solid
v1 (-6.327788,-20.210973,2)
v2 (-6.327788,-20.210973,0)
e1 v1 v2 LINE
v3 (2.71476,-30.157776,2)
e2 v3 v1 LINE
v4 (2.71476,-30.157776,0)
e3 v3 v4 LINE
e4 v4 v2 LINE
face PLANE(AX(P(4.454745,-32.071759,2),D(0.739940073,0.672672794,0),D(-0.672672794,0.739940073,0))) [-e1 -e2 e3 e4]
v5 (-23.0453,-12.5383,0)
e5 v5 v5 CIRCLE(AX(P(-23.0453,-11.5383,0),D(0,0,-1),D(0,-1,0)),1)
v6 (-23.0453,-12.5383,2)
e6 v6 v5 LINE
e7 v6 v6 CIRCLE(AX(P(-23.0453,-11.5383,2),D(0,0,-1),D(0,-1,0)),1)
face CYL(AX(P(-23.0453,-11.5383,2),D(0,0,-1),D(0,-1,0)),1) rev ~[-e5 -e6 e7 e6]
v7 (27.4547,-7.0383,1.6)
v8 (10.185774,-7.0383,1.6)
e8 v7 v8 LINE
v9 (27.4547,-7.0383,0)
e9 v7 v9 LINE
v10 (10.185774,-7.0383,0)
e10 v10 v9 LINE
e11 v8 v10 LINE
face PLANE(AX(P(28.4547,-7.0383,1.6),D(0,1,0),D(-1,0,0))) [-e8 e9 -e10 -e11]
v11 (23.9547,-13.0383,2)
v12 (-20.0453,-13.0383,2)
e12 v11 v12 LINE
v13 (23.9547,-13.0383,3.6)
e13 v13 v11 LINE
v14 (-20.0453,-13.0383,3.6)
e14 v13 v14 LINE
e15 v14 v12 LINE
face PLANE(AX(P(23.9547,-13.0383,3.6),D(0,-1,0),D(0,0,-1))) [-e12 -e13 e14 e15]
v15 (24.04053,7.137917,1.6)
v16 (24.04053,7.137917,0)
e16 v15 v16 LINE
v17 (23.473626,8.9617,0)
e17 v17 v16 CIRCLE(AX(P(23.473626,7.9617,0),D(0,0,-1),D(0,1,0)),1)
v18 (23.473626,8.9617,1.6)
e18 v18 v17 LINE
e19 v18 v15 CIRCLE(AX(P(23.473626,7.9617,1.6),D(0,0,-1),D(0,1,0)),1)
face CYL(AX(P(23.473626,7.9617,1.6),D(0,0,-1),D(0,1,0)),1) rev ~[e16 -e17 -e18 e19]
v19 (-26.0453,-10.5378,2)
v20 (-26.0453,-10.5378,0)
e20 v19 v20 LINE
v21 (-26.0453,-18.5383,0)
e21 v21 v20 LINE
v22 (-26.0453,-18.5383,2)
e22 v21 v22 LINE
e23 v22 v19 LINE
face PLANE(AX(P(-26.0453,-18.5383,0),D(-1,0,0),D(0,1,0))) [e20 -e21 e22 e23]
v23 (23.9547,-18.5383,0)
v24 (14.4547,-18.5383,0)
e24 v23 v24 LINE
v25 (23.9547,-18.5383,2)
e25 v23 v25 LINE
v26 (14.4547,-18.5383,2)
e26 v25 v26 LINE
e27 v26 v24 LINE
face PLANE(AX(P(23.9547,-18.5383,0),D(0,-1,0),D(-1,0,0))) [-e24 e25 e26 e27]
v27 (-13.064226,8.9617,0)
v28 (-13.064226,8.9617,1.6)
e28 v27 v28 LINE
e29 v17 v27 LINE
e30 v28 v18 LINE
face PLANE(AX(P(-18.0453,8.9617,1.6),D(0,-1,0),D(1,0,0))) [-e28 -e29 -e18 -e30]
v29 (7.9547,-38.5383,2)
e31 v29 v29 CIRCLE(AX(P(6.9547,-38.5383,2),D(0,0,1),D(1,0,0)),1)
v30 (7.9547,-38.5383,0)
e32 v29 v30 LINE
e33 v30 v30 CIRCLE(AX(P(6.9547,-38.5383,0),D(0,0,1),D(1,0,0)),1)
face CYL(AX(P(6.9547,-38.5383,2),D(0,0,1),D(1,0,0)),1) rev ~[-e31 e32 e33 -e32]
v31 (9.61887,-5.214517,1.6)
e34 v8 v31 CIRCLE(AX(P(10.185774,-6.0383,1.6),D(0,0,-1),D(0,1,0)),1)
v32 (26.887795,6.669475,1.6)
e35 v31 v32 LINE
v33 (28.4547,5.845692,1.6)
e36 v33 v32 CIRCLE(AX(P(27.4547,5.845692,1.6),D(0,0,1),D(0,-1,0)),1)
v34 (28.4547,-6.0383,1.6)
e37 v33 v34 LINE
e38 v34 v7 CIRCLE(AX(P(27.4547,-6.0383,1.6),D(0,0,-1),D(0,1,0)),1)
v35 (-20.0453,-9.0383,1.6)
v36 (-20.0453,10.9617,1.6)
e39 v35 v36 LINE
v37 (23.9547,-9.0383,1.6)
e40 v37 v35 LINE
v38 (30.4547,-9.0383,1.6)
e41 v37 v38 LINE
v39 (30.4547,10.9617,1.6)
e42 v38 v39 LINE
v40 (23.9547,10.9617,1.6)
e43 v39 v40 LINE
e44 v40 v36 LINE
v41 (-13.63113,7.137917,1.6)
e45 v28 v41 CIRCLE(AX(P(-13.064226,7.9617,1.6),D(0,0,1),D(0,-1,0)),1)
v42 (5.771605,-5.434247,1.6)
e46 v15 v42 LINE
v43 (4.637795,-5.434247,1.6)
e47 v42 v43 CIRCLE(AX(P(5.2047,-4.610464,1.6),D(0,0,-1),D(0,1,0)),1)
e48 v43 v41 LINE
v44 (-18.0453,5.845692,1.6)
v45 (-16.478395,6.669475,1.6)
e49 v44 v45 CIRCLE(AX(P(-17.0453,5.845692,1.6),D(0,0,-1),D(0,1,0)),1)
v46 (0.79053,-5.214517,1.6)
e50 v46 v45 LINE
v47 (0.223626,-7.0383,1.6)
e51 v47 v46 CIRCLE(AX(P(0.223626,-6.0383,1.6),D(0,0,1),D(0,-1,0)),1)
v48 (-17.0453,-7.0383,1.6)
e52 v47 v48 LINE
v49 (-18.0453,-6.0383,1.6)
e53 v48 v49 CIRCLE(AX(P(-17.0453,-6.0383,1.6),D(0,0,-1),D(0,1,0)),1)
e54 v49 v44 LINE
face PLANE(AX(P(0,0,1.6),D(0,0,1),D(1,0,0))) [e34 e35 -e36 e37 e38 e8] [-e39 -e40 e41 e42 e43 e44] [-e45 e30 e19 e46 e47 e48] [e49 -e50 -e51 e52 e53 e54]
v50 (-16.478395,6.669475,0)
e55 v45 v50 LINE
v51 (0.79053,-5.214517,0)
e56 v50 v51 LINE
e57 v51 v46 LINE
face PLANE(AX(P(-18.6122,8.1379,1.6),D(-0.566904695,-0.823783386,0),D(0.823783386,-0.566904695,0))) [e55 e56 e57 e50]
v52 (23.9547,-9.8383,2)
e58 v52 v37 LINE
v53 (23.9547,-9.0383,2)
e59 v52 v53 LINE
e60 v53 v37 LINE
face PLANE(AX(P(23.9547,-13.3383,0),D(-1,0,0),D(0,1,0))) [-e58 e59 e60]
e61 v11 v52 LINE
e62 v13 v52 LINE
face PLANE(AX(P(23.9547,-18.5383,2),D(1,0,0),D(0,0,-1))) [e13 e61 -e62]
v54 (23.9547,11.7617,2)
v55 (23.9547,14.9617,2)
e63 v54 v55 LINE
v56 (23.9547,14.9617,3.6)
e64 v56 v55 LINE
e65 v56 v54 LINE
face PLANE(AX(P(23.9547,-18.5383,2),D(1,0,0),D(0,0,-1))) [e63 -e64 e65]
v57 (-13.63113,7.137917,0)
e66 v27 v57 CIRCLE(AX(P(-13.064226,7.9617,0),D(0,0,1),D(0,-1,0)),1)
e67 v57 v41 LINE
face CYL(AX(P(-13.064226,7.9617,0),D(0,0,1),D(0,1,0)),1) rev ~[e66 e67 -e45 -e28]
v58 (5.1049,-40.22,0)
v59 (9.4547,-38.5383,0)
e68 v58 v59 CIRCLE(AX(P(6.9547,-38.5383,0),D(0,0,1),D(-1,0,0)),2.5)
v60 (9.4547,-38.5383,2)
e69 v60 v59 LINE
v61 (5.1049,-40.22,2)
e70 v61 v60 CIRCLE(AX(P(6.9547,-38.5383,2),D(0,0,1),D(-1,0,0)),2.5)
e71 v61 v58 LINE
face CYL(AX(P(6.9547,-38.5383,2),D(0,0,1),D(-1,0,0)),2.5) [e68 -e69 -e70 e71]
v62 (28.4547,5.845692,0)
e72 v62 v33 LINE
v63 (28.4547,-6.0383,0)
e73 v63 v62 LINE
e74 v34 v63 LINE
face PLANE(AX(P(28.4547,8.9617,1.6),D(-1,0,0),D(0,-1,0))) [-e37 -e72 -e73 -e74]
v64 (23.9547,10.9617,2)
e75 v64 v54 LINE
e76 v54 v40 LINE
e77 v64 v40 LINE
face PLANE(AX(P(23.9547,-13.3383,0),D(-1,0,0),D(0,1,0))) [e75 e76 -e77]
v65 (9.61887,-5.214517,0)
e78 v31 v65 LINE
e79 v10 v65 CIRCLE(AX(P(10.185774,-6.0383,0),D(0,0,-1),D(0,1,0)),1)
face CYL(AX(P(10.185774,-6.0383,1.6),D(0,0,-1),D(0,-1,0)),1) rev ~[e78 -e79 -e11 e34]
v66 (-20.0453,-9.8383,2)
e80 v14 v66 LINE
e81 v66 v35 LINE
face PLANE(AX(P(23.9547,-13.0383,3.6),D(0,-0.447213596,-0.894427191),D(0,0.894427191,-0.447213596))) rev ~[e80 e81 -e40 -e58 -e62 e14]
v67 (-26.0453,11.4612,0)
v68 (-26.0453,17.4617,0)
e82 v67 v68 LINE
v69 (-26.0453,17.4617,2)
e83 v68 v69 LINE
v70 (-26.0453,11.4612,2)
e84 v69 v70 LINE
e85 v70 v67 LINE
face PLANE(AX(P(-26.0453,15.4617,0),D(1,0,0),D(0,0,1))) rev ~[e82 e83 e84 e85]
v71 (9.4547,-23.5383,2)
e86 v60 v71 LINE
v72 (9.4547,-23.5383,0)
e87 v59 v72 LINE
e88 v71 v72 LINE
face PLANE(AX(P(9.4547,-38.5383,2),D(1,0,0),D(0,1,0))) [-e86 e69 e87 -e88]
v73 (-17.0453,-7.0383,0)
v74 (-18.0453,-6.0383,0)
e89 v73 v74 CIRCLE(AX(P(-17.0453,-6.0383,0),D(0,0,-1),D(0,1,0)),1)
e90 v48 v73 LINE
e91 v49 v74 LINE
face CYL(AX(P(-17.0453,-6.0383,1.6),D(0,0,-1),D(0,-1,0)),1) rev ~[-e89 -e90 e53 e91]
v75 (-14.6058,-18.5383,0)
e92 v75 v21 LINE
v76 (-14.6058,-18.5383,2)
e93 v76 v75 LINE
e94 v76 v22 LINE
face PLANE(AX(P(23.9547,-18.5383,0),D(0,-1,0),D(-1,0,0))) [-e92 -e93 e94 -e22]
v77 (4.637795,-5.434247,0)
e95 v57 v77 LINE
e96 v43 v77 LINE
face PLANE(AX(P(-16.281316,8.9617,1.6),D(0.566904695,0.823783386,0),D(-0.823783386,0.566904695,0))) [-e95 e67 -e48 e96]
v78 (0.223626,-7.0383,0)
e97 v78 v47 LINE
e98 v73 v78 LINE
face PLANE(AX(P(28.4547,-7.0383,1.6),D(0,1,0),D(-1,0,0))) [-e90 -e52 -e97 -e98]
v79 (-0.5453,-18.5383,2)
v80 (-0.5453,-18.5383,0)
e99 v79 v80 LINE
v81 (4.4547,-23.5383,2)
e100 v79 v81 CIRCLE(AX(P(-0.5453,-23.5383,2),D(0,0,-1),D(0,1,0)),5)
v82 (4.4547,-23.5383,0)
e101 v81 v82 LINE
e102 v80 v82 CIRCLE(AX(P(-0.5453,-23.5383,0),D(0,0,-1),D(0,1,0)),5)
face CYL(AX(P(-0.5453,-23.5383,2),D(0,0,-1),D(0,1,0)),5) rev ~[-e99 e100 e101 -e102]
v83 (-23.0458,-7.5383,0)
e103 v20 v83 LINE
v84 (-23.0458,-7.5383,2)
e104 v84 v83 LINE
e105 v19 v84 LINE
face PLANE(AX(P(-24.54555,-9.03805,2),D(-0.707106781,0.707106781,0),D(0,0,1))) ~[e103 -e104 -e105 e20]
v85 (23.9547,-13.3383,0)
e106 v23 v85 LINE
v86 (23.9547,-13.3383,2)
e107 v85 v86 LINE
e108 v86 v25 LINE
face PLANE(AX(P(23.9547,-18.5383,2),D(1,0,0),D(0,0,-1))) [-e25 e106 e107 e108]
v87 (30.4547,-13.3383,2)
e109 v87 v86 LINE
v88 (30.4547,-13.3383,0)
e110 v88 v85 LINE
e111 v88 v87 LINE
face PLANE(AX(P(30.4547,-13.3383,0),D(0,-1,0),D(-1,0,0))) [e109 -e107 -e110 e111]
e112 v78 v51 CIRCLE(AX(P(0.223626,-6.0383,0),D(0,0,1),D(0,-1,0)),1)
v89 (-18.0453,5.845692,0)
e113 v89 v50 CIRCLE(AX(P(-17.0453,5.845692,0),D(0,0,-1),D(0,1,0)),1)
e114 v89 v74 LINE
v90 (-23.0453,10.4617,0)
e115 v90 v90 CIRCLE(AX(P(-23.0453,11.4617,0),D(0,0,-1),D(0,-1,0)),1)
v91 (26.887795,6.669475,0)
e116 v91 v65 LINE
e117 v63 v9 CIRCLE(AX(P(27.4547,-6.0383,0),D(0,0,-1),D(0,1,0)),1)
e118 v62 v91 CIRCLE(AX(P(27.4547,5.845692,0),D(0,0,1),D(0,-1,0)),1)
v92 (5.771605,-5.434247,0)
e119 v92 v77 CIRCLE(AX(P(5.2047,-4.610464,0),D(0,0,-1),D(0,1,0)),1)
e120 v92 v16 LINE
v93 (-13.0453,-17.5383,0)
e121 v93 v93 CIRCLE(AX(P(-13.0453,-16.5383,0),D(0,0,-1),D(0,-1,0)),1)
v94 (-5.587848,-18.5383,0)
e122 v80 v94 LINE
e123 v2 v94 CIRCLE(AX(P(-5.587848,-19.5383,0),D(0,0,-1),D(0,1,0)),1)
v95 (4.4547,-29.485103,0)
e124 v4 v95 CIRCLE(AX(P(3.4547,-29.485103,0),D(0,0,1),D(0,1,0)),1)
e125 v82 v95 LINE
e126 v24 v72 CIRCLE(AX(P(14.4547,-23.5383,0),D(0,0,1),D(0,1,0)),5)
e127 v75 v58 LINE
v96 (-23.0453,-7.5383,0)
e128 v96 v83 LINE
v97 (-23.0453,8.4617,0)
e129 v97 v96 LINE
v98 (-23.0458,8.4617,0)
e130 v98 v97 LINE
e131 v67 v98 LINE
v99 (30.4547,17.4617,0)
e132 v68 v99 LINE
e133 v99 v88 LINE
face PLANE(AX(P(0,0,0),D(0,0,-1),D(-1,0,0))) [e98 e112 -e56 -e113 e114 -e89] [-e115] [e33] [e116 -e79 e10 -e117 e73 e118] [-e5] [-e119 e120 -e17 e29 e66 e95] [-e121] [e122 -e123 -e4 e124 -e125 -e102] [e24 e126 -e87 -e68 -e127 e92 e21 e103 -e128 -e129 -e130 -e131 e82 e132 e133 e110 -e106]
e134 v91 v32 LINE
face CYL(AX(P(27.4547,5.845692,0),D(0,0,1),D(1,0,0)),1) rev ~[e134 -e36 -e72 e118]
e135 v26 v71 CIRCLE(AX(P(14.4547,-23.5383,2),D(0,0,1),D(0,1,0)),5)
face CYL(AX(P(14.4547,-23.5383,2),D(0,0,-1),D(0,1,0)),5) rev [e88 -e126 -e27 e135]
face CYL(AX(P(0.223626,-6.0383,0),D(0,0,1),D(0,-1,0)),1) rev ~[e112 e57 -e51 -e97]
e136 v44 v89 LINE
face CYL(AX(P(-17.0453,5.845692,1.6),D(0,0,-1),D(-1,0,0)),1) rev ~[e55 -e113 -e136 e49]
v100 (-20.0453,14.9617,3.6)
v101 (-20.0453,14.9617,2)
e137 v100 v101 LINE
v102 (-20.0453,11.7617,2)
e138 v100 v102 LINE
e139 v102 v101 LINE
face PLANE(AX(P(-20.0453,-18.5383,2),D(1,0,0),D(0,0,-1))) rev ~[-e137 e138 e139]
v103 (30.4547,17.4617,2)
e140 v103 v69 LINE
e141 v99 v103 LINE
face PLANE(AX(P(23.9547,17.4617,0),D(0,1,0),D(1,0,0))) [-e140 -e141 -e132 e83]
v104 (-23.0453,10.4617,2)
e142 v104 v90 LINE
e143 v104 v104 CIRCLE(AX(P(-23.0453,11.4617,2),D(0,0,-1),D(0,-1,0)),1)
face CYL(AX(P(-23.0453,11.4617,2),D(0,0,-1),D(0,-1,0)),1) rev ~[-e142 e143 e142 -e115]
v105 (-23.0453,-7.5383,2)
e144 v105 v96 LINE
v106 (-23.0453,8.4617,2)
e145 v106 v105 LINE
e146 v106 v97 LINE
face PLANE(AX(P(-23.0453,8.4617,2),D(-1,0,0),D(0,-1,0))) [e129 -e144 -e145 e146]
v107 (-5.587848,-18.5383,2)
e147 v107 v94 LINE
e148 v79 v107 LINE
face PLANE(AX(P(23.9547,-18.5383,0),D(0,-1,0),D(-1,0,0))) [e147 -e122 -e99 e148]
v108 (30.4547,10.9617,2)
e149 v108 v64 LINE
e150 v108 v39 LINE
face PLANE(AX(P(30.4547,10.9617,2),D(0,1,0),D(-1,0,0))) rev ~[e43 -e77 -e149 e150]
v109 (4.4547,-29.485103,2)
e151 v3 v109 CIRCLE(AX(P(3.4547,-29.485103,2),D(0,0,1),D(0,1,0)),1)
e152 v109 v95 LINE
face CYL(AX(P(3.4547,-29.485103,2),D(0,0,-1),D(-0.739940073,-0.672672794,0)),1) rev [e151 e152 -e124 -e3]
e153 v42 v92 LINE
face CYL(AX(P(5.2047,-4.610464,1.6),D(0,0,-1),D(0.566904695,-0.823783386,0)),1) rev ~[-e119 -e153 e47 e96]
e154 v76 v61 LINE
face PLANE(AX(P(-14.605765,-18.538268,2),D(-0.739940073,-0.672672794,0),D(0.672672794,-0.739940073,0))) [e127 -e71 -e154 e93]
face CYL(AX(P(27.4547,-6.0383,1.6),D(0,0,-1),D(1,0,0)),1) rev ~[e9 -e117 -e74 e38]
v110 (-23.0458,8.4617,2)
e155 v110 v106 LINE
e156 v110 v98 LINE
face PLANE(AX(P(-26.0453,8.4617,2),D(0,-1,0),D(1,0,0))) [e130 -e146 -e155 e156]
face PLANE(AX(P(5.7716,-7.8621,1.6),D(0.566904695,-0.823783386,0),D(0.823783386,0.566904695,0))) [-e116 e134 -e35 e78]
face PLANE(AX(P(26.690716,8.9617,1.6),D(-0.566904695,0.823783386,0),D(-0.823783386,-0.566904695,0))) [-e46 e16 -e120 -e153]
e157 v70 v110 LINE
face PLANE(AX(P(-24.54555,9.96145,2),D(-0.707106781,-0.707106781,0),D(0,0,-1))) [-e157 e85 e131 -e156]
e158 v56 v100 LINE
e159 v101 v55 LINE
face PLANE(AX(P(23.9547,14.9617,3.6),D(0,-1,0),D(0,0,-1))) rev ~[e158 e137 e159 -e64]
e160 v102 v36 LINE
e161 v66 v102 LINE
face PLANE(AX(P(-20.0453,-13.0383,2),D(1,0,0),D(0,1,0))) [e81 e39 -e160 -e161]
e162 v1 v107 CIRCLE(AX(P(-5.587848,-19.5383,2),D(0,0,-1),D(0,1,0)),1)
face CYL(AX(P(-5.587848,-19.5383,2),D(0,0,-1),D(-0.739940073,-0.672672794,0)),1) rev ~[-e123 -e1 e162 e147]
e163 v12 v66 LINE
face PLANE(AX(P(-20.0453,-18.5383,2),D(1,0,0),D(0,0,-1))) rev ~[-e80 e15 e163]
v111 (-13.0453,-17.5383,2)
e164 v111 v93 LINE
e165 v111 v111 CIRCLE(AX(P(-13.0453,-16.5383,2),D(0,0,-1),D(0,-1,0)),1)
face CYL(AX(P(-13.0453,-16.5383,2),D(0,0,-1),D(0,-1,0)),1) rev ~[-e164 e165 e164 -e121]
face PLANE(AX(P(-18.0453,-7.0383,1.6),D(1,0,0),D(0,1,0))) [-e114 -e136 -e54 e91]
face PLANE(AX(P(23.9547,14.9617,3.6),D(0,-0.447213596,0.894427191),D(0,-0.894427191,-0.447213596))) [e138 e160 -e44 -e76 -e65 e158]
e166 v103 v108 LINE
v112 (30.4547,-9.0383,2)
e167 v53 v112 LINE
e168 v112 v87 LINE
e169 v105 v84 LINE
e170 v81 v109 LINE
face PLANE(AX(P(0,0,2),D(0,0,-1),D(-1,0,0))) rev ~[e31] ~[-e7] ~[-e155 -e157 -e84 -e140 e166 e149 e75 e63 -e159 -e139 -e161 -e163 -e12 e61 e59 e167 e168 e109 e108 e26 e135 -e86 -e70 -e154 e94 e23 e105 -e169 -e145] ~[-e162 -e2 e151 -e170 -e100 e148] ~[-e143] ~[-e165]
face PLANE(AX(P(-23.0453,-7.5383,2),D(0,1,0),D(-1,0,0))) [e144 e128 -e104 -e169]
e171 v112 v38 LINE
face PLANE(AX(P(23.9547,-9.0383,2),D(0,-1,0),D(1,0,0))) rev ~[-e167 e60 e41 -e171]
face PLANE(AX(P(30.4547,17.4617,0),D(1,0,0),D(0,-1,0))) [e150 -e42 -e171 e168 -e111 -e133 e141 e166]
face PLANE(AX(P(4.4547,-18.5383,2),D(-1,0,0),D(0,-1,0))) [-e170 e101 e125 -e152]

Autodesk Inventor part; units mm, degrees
ref_plane "YZ Plane" through (0, 0, 0) normal (1, 0, 0) x (0, 1, 0)
ref_plane "XZ Plane" through (0, 0, 0) normal (0, 1, 0) x (-1, 0, 0)
ref_plane "XY Plane" through (0, 0, 0) normal (0, 0, 1) x (1, 0, 0)
sketch "Sketch1" plane through (0, 0, 0) normal (0, 0, 1) x (1, 0, 0)
  line L0 (-26.0453, 15.4617) -> (23.9547, 15.4617)
  line L1 (23.9547, 15.4617) -> (23.9547, -18.5383)
  line L2 (23.9547, -18.5383) -> (-26.0453, -18.5383)
  line L3 (-26.0453, -18.5383) -> (-26.0453, 15.4617)
  point P0 (0, 0)
  dimension "d0" = 50
  dimension "d1" = 34
extrude "Extrusion1" add sketch "Sketch1" along normal blind 2
sketch "Sketch2" plane through (0, 0, 2) normal (0, 0, 1) x (1, 0, 0)
  line L0 (-26.0453, 15.4617) -> (-26.0453, -18.5383) projected
  line L1 (23.9547, 15.4617) -> (-26.0453, 15.4617) projected
  point P0 (0, 0)
  point P1 (-23.0453, 11.4617)
  point P2 (-23.0453, -11.5383)
  point P3 (-13.0453, -16.5383)
  dimension "d4" = 23
  dimension "d5" = 3
  dimension "d6" = 3
  dimension "d7" = 4
  dimension "d8" = 5
  dimension "d9" = 10
hole "Hole1" at (-23.0453, 11.4617, 2) at (-23.0453, -11.5383, 2) at (-13.0453, -16.5383, 2) direction (0, 0, -1) diameter 2 depth 6.5 tip angle 118
sketch "Sketch3" plane through (0, 0, 2) normal (0, 0, 1) x (1, 0, 0)
  line L0 (-26.0453, 15.4617) -> (-26.0453, -18.5383) projected
  line L1 (-26.0453, 8.4617) -> (-23.0453, 8.4617)
  line L2 (-23.0453, 8.4617) -> (-23.0453, -7.5383)
  line L3 (-23.0453, -7.5383) -> (-26.0453, -7.5383)
  line L4 (-26.0453, -7.5383) -> (-26.0453, 8.4617)
  line L5 (23.9547, 15.4617) -> (-26.0453, 15.4617) projected
  circle A0 centre (-23.0453, -11.5383) radius 1 projected
  point P0 (0, 0)
  dimension "d17" = 7
  dimension "d18" = 4
  dimension "d19" = 3
extrude "Extrusion2" cut sketch "Sketch3" against normal blind 2 contours L1 L2 L3 L0
chamfer "Chamfer1" distance 3 angle 45 2 edges at (-26.0453, 8.4617, 1) (-26.0453, -7.5383, 1)
sketch "Sketch5" plane through (0, 0, 2) normal (0, 0, 1) x (1, 0, 0)
  line L0 (-20.0453, 14.9617) -> (23.9547, 14.9617)
  line L1 (23.9547, 14.9617) -> (23.9547, -13.0383)
  line L2 (23.9547, -13.0383) -> (-20.0453, -13.0383)
  line L3 (-20.0453, -13.0383) -> (-20.0453, 14.9617)
  line L4 (23.9547, 15.4617) -> (-26.0453, 15.4617) projected
  line L5 (-26.0453, -18.5383) -> (23.9547, -18.5383) projected
  line L6 (-23.0453, 8.4617) -> (-23.0453, -7.5383) projected
  line L7 (23.9547, -18.5383) -> (23.9547, 15.4617) projected
  circle A0 centre (-13.0453, -16.5383) radius 1 projected
  point P0 (0, 0)
  dimension "d27" = 3
  dimension "d28" = 0
  dimension "d29" = 50
  dimension "d30" = 3.5
  dimension "d31" = 31.5
  dimension "d32" = 0.5
extrude "Extrusion3" cut sketch "Sketch5" against normal blind 0.4 contours L0 L1 L2 L3
sketch "Sketch8" plane through (0, 0, 2) normal (0, 0, 1) x (1, 0, 0)
  line L0 (-26.0453, -18.5383) -> (23.9547, -18.5383) projected
  line L1 (11.9547, -18.5383) -> (-1.0453, -18.5383)
  line L2 (-1.0453, -18.5383) -> (-1.0453, -44.5383)
  line L3 (-1.0453, -44.5383) -> (11.9547, -44.5383)
  line L4 (11.9547, -44.5383) -> (11.9547, -18.5383)
  line L5 (23.9547, -18.5383) -> (23.9547, 15.4617) projected
  circle A0 centre (-13.0453, -16.5383) radius 1 projected
  line L6 (6.9547, -38.5383) -> (6.9547, -18.5383) construction
  line L7 (9.4547, -38.5383) -> (9.4547, -18.5383)
  line L8 (4.4547, -18.5383) -> (4.4547, -38.5383)
  arc A1 (4.4547, -38.5383) -> (9.4547, -38.5383) centre (6.9547, -38.5383) ccw
  arc A2 (9.4547, -18.5383) -> (4.4547, -18.5383) centre (6.9547, -18.5383) ccw
  circle A3 centre (6.9547, -38.5383) radius 1
  point P0 (0, 0)
  point P1 (23.9547, -13.0383)
  point P2 (6.9547, -28.5383)
  dimension "d48" = 12
  dimension "d49" = 25
  dimension "d50" = 20
  dimension "d51" = 22
  dimension "d52" = 6
  dimension "d53" = 5
  dimension "d54" = 2
extrude "Extrusion6" add sketch "Sketch8" against normal blind 2 contours L0 L7 A1 L8
fillet "Fillet1" radius 5 2 edges at (4.4547, -18.5383, 1) (9.4547, -18.5383, 1)
sketch "Sketch9" plane through (0, 0, 2) normal (0, 0, 1) x (1, 0, 0)
  circle A0 centre (-13.0453, -16.5383) radius 1 projected
  circle A1 centre (6.9547, -38.5383) radius 1 projected
  line L0 (-13.0453, -16.5383) -> (6.9547, -38.5383) construction
  line L1 (-14.8951, -18.22) -> (5.1049, -40.22)
  line L2 (8.8046, -36.8566) -> (-11.1954, -14.8566)
  arc A2 (-11.1954, -14.8566) -> (-14.8951, -18.22) centre (-13.0453, -16.5383) ccw
  arc A3 (5.1049, -40.22) -> (8.8046, -36.8566) centre (6.9547, -38.5383) ccw
  line L3 (-26.0453, -18.5383) -> (-0.5453, -18.5383) projected
  line L4 (-14.6058, -18.5383) -> (-7.8485, -18.5383)
  line L5 (4.4547, -23.5383) -> (4.4547, -38.5383) projected
  line L6 (4.4547, -32.0718) -> (4.4547, -38.5383)
  line L7 (4.4547, -38.5383) -> (6.7171, -41.027)
  arc A4 (4.4547, -38.5383) -> (9.4547, -38.5383) centre (6.9547, -38.5383) ccw projected
  point P0 (0, 0)
  point P1 (-3.0453, -27.5383)
extrude "Extrusion7" add sketch "Sketch9" against normal blind 2 contours L3 L2 L5 A4 L1
fillet "Fillet2" radius 1 2 edges at (-7.8485, -18.5383, 1) (4.4547, -32.0718, 1)
sketch "Sketch10" plane through (-26.0453, 15.4617, 0) normal (0, 1, 0) x (1, 0, 0)
  line L0 (50, 0) -> (50, -2) projected
  line L1 (0, 0) -> (0, -2) projected
  line L2 (50, -2) -> (0, -2)
  line L3 (0, -2) -> (0, 0)
  line L4 (0, 0) -> (50, 0)
  line L5 (50, 0) -> (50, -2)
  point P0 (26.0453, 0)
extrude "Extrusion8" add sketch "Sketch10" along normal blind 2
sketch "Sketch13" plane through (23.9547, -18.5383, 2) normal (1, 0, 0) x (0, 0, -1)
  line L0 (0, 0) -> (0, 5.5) projected
  line L1 (0.4, 5.5) -> (0.4, 33.5) projected
  line L2 (0.4, 5.5) -> (0, 5.5) projected
  line L3 (-1.6, 5.5) -> (0.4, 9.5)
  line L4 (0, 5.5) -> (0.4, 5.5) projected
  line L5 (-1.6, 5.5) -> (0.4, 5.5)
  line L6 (0.4, 5.5) -> (0.4, 9.5)
  point P0 (2, 18.5383)
  point P1 (0.4, 30.4)
  dimension "d70" = 1.6
  dimension "d71" = 4
extrude "Extrusion11" add sketch "Sketch13" against normal blind 44
sketch "Sketch14" plane through (23.9547, -18.5383, 2) normal (1, 0, 0) x (0, 0, -1)
  line L0 (0, 33.5) -> (0, 36) projected
  line L1 (0.4, 33.5) -> (0.4, 9.5) projected
  line L2 (0, 33.5) -> (0.4, 33.5) projected
  line L3 (-1.6, 33.5) -> (0.4, 29.5)
  line L4 (-1.6, 33.5) -> (0.4, 33.5)
  line L5 (0.4, 29.5) -> (0.4, 33.5)
  point P0 (2, 18.5383)
  dimension "d74" = 1.6
  dimension "d75" = 4
extrude "Extrusion12" add sketch "Sketch14" against normal blind 44
sketch "Sketch15" plane through (0, 0, 0) normal (0, 0, -1) x (-1, 0, 0)
  line L0 (-23.9547, -18.5383) -> (-23.9547, 17.4617) projected
  line L1 (-23.9547, 17.4617) -> (-30.4547, 17.4617)
  line L2 (-30.4547, 17.4617) -> (-30.4547, -13.3383)
  line L3 (-30.4547, -13.3383) -> (-23.9547, -13.3383)
  line L4 (-23.9547, -13.3383) -> (-23.9547, 17.4617)
  line L5 (-14.4547, -18.5383) -> (-23.9547, -18.5383) projected
  point P0 (0, 0)
  dimension "d78" = 5.2
  dimension "d79" = 6.5
extrude "Extrusion13" add sketch "Sketch15" against normal blind 2
sketch "Sketch16" plane through (0, 0, 2) normal (0, 0, 1) x (1, 0, 0)
  line L0 (30.4547, -13.3383) -> (30.4547, 17.4617) projected
  line L1 (-20.0453, -9.0383) -> (23.9547, -9.0383) projected
  line L2 (30.4547, 10.9617) -> (-20.0453, 10.9617)
  line L3 (-20.0453, 10.9617) -> (-20.0453, -9.0383)
  line L4 (-20.0453, -9.0383) -> (30.4547, -9.0383)
  line L5 (30.4547, -9.0383) -> (30.4547, 10.9617)
  line L6 (23.9547, 10.9617) -> (-20.0453, 10.9617) projected
  point P0 (0, 0)
  point P1 (30.4547, -9.0383)
extrude "Extrusion14" cut sketch "Sketch16" against normal blind 0.4
sketch "Sketch17" plane through (0, 0, 1.6) normal (0, 0, 1) x (1, 0, 0)
  line L0 (28.4547, -7.0383) -> (-18.0453, -7.0383)
  line L1 (-18.0453, -7.0383) -> (-18.0453, 8.9617)
  line L2 (-18.0453, 8.9617) -> (28.4547, 8.9617)
  line L3 (28.4547, 8.9617) -> (28.4547, -7.0383)
  line L4 (30.4547, -9.0383) -> (23.9547, -9.0383) projected
  line L5 (23.9547, 10.9617) -> (30.4547, 10.9617) projected
  line L6 (30.4547, 10.9617) -> (30.4547, -9.0383) projected
  line L7 (-20.0453, -9.8383) -> (-20.0453, 11.7617) projected
  point P0 (0, 0)
  dimension "d84" = 2
  dimension "d85" = 2
  dimension "d86" = 2
  dimension "d87" = 2
extrude "Extrusion15" cut sketch "Sketch17" against normal blind 2
sketch "Sketch18" plane through (0, 0, 1.6) normal (0, 0, 1) x (1, 0, 0)
  line L0 (-18.0453, -7.0383) -> (28.4547, -7.0383) projected
  line L1 (28.4547, 8.9617) -> (-18.0453, 8.9617) projected
  line L2 (5.2047, -7.0383) -> (28.4547, 8.9617) construction
  line L3 (5.7716, -7.8621) -> (29.0216, 8.1379)
  line L4 (27.8878, 9.7855) -> (4.6378, -6.2145)
  arc A0 (4.6378, -6.2145) -> (5.7716, -7.8621) centre (5.2047, -7.0383) ccw
  arc A1 (29.0216, 8.1379) -> (27.8878, 9.7855) centre (28.4547, 8.9617) ccw
  line L5 (5.2047, -7.0383) -> (-18.0453, 8.9617) construction
  line L6 (5.7716, -6.2145) -> (-17.4784, 9.7855)
  line L7 (-18.6122, 8.1379) -> (4.6378, -7.8621)
  arc A2 (4.6378, -7.8621) -> (5.7716, -6.2145) centre (5.2047, -7.0383) ccw
  arc A3 (-17.4784, 9.7855) -> (-18.6122, 8.1379) centre (-18.0453, 8.9617) ccw
  point P0 (0, 0)
  point P1 (16.5637, 8.9617)
  point P2 (-8.738, 9.9617)
  point P3 (16.8297, 0.9617)
  point P4 (-6.4203, 0.9617)
  point P5 (4.6378, -7.8621)
  point P6 (5.2047, -5.8244)
  dimension "d90" = 46.5
  dimension "d91" = 2
  dimension "d92" = 2
extrude "Extrusion16" add sketch "Sketch18" against normal blind 1.6 contours L7 A3 L6 L4 A0 L0 | L0 A0 L7 | A0 L4 L6 A2 L0 | L0 A2 A0 | A2 L6 L4 A1 L3 L0 | L0 L3 A2
fillet "Fillet3" radius 1 9 edges at (28.4547, -7.0383, 0.8) (28.4547, 7.7478, 0.8) (26.6907, 8.9617, 0.8) (6.9687, -7.0383, 0.8) (5.2047, -5.8244, 0.8) (3.4407, -7.0383, 0.8) (-16.2813, 8.9617, 0.8) (-18.0453, 7.7478, 0.8) (-18.0453, -7.0383, 0.8)
